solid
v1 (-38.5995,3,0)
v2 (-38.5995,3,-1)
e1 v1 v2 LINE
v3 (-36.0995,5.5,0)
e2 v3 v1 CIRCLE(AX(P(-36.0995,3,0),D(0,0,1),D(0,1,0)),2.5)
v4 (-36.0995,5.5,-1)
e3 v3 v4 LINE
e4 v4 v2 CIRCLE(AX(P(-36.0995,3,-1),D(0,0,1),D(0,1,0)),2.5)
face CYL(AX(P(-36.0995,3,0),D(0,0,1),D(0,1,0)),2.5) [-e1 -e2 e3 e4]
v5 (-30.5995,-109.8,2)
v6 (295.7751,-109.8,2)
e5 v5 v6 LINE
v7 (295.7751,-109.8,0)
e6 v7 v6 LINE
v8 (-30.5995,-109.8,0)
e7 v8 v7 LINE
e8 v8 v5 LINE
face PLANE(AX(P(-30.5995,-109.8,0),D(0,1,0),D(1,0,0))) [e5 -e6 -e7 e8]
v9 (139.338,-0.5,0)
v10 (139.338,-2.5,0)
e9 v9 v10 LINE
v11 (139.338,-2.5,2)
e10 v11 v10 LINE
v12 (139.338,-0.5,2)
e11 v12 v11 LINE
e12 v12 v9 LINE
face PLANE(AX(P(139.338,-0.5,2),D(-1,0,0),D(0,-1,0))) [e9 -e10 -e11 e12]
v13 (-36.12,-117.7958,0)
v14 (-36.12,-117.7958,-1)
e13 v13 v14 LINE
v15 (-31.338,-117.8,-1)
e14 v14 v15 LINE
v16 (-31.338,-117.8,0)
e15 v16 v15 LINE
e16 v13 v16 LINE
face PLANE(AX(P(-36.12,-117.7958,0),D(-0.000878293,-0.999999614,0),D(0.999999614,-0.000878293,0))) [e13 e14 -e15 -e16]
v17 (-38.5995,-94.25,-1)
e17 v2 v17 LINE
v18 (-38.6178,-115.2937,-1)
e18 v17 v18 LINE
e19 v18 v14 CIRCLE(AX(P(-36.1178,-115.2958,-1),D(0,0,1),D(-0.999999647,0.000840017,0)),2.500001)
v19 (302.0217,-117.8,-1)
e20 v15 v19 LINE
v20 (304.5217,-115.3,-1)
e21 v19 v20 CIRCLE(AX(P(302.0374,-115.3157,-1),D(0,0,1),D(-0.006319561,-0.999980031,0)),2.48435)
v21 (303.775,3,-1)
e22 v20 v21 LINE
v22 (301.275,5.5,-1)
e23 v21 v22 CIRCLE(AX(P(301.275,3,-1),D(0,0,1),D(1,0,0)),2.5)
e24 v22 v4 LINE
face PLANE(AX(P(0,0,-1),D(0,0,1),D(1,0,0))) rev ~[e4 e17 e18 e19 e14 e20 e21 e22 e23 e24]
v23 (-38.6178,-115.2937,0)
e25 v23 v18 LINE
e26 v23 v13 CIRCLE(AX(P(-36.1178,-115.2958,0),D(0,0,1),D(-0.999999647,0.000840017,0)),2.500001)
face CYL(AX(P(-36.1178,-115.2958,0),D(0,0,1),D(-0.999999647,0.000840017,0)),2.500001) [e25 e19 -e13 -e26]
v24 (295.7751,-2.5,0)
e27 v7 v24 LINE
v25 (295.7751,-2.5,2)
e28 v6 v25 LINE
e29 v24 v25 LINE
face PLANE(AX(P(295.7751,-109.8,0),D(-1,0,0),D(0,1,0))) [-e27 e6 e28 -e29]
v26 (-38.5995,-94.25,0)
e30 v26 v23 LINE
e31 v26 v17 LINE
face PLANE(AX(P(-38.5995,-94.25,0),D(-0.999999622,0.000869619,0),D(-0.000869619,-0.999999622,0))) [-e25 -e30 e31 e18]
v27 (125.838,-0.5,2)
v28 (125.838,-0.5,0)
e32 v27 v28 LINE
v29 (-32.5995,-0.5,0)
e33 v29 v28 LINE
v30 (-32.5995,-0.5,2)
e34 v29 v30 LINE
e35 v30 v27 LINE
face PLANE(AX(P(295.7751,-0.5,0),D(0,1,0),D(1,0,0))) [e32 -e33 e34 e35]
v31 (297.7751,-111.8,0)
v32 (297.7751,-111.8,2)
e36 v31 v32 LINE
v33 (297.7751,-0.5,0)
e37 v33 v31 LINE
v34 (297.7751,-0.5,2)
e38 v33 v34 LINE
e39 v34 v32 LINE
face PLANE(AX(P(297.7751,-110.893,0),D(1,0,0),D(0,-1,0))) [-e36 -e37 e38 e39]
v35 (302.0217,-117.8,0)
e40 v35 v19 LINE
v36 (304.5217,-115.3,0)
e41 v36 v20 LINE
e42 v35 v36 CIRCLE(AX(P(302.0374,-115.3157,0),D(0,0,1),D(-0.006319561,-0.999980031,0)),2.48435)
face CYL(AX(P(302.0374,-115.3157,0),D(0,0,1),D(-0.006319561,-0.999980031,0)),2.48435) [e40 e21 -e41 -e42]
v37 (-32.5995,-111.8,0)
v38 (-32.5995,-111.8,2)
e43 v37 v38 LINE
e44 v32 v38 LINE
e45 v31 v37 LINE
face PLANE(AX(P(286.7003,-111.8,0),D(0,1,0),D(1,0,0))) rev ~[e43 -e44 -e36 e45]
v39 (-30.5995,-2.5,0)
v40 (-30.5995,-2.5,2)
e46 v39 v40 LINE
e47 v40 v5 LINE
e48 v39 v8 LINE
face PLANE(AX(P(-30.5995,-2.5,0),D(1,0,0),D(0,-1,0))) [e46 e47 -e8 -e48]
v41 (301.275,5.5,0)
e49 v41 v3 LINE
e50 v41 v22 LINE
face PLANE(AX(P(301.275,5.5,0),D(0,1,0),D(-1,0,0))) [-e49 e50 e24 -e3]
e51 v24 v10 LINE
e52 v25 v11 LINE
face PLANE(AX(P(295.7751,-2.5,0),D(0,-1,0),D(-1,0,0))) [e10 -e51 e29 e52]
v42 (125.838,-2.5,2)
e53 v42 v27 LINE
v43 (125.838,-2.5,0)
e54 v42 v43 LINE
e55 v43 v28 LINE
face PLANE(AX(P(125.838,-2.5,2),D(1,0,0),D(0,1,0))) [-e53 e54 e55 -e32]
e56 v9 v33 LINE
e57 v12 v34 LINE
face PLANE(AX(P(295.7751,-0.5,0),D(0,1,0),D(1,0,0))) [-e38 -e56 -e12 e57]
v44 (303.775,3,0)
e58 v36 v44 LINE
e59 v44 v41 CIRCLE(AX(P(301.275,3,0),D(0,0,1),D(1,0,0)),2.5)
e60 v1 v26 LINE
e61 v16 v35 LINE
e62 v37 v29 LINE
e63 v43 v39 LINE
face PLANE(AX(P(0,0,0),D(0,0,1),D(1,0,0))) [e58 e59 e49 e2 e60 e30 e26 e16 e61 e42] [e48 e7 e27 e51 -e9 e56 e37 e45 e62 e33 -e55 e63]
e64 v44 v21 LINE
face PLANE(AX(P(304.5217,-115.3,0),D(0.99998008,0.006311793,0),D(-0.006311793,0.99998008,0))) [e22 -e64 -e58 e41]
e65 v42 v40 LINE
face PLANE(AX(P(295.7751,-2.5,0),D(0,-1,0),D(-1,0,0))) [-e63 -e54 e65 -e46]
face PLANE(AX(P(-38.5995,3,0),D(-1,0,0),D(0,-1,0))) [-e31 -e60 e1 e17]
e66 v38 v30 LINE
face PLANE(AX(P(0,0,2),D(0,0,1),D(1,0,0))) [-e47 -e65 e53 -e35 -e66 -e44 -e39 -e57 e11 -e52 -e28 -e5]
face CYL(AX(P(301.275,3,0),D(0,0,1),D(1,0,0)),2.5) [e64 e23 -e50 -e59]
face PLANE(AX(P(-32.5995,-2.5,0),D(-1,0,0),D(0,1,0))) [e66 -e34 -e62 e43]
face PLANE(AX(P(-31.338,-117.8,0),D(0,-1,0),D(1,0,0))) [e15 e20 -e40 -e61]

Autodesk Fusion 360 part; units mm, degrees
sketch "Reference" plane through (0, 0, 0) normal (0, 0, 1) x (1, 0, 0)
  line L0 (298.2751, -95.25) -> (298.2751, -113.3)
  line L1 (298.275, 1) -> (298.275, -57.15)
  line L2 (298.275, -57.15) -> (298.275, -57.15)
  line L3 (304.5217, -115.3) -> (303.775, 3)
  line L4 (179.47, 0) -> (290.235, 0)
  line L5 (290.2351, -112.3) -> (230.642, -112.3)
  line L6 (290.235, 1) -> (298.275, 1)
  line L7 (290.235, 0) -> (298.275, 0)
  line L8 (290.2351, -112.3) -> (298.2751, -112.3)
  arc A0 (302.0217, -117.8) -> (304.5217, -115.3) centre (302.0374, -115.3157) ccw
  line L9 (298.2751, -57.15) -> (298.2751, -74.2)
  line L10 (171.43, 0) -> (171.43, 1)
  line L11 (230.642, -112.3) -> (230.642, -113.3)
  line L12 (222.602, -113.3) -> (222.602, -112.3)
  arc A1 (303.775, 3) -> (301.275, 5.5) centre (301.275, 3) ccw
  line L13 (-28.337, -112.3) -> (-29.3375, -112.3)
  line L14 (-28.3375, 1.5) -> (-28.3375, 3)
  line L15 (-28.337, 1.5) -> (-6.3413, 1.5)
  line L16 (230.642, -112.3) -> (230.642, -113.3)
  line L17 (230.642, -113.3) -> (222.602, -113.3)
  line L18 (-36.12, -117.7958) -> (-31.338, -117.8)
  line L19 (222.602, -113.3) -> (222.602, -112.3)
  line L20 (-28.337, -113.3) -> (-28.337, -112.3)
  line L21 (-29.3375, -113.3) -> (-29.338, -113.3)
  arc A2 (-38.6178, -115.2937) -> (-36.12, -117.7958) centre (-36.1178, -115.2958) ccw
  line L22 (57.336, -112.3) -> (-20.297, -112.3)
  line L23 (8.02, 1) -> (8.02, 0)
  line L24 (-29.3375, -112.3) -> (-29.3375, -113.3)
  line L25 (-33.0995, -112.3) -> (-33.0995, 1.5)
  line L26 (-29.338, -112.3) -> (-33.0995, -112.3)
  line L27 (57.336, -113.3) -> (57.336, -112.3)
  line L28 (-20.297, -113.3) -> (-28.337, -113.3)
  line L29 (-29.338, -113.3) -> (-29.338, -112.3)
  line L30 (-20.297, -112.3) -> (-20.297, -113.3)
  line L31 (301.275, 5.5) -> (-36.0995, 5.5)
  line L32 (-38.5995, -94.25) -> (-38.6178, -115.2937)
  line L33 (298.2751, -76.2) -> (298.2751, -93.25)
  line L34 (298.275, -95.25) -> (298.275, -95.25)
  line L35 (298.275, -76.2) -> (298.275, -76.2)
  line L36 (-6.3413, 1.5) -> (-6.3413, 0)
  line L37 (-38.5995, 3) -> (-38.5995, -94.25)
  arc A3 (303.775, 3) -> (301.275, 5.5) centre (301.275, 3) ccw
  line L38 (298.2751, -74.2) -> (298.275, -74.2)
  line L39 (-28.337, 3) -> (-28.337, 1.5)
  line L40 (-33.0995, 1.5) -> (-28.3375, 1.5)
  line L41 (-0.02, 0) -> (-0.02, 1)
  arc A4 (-36.0995, 5.5) -> (-38.5995, 3) centre (-36.0995, 3) ccw
  line L42 (-31.338, -117.8) -> (302.0217, -117.8)
  line L43 (-6.3413, 0) -> (-0.02, 0)
  line L44 (298.275, -57.15) -> (298.275, -57.15)
  line L45 (-0.02, 1) -> (8.02, 1)
  line L46 (8.02, 0) -> (171.43, 0)
  line L47 (-28.3375, 3) -> (-28.337, 3)
  line L48 (290.235, 0) -> (290.235, 1)
  line L49 (290.235, 1) -> (298.275, 1)
  line L50 (298.2751, -57.15) -> (298.2751, -74.2)
  line L51 (298.275, 1) -> (298.275, -57.15)
  line L52 (222.602, -112.3) -> (65.376, -112.3)
  line L53 (-33.0995, -112.3) -> (-33.0995, 1.5)
  line L54 (301.275, 5.5) -> (-36.0995, 5.5)
  line L55 (-31.338, -117.8) -> (302.0217, -117.8)
  line L56 (57.336, -112.3) -> (-20.297, -112.3)
  line L57 (8.02, 0) -> (171.43, 0)
  line L58 (290.2351, -112.3) -> (230.642, -112.3)
  line L59 (298.2751, -95.25) -> (298.2751, -113.3)
  line L60 (298.275, -76.2) -> (298.275, -76.2)
  line L61 (298.275, -74.2) -> (298.275, -76.2)
  line L62 (298.2751, -76.2) -> (298.2751, -93.25)
  line L63 (298.2751, -93.25) -> (298.275, -93.25)
  line L64 (298.275, -93.25) -> (298.275, -95.25)
  line L65 (290.2351, -113.3) -> (290.2351, -112.3)
  arc A5 (302.0217, -117.8) -> (304.5217, -115.3) centre (302.0374, -115.3157) ccw
  line L66 (179.47, 0) -> (290.235, 0)
  line L67 (298.2751, -113.3) -> (290.2351, -113.3)
  line L68 (304.5217, -115.3) -> (303.775, 3)
  line L69 (298.275, -95.25) -> (298.275, -95.25)
  line L70 (57.336, -113.3) -> (57.336, -112.3)
  line L71 (65.376, -113.3) -> (57.336, -113.3)
  line L72 (-29.338, -113.3) -> (-29.338, -112.3)
  line L73 (-6.3413, 1.5) -> (-6.3413, 0)
  line L74 (-29.3375, -113.3) -> (-29.338, -113.3)
  line L75 (-29.3375, -112.3) -> (-29.3375, -113.3)
  line L76 (-28.3375, 1.5) -> (-28.3375, 3)
  line L77 (-28.337, 1.5) -> (-6.3413, 1.5)
  line L78 (-28.337, -112.3) -> (-29.3375, -112.3)
  line L79 (-28.337, -113.3) -> (-28.337, -112.3)
  line L80 (-28.3375, 3) -> (-28.337, 3)
  line L81 (-20.297, -113.3) -> (-28.337, -113.3)
  line L82 (65.376, -112.3) -> (65.376, -113.3)
  line L83 (-20.297, -112.3) -> (-20.297, -113.3)
  line L84 (-29.338, -112.3) -> (-33.0995, -112.3)
  line L85 (8.02, 1) -> (8.02, 0)
  line L86 (-28.337, 3) -> (-28.337, 1.5)
  arc A6 (-38.6178, -115.2937) -> (-36.12, -117.7958) centre (-36.1178, -115.2958) ccw
  line L87 (-38.5995, -94.25) -> (-38.6178, -115.2937)
  line L88 (-38.5995, 3) -> (-38.5995, -94.25)
  line L89 (-0.02, 0) -> (-0.02, 1)
  line L90 (-33.0995, 1.5) -> (-28.3375, 1.5)
  line L91 (-6.3413, 0) -> (-0.02, 0)
  arc A7 (-36.0995, 5.5) -> (-38.5995, 3) centre (-36.0995, 3) ccw
  line L92 (-0.02, 1) -> (8.02, 1)
  line L93 (-36.12, -117.7958) -> (-31.338, -117.8)
  line L94 (298.275, -93.25) -> (298.275, -95.25)
  line L95 (298.2751, -113.3) -> (290.2351, -113.3)
  line L96 (290.2351, -113.3) -> (290.2351, -112.3)
  line L97 (298.2751, -93.25) -> (298.275, -93.25)
  line L98 (298.275, -74.2) -> (298.275, -76.2)
  line L99 (298.2751, -74.2) -> (298.275, -74.2)
  line L100 (290.235, 0) -> (290.235, 1)
  line L101 (179.47, 1) -> (179.47, 0)
  line L102 (230.642, -113.3) -> (222.602, -113.3)
  line L103 (179.47, 1) -> (179.47, 0)
  line L104 (171.43, 1) -> (179.47, 1)
  line L105 (222.602, -112.3) -> (65.376, -112.3)
  line L106 (65.376, -112.3) -> (65.376, -113.3)
  line L107 (65.376, -113.3) -> (57.336, -113.3)
  line L108 (171.43, 0) -> (171.43, 1)
  line L109 (171.43, 1) -> (179.47, 1)
  dimension "d29" = 5.5
  dimension "d30" = 5.5
  dimension "d31" = 6.2339
  dimension "d32" = 5.5125
  dimension "d33" = 5.5
  dimension "d34" = 6.2276
  dimension "d35" = 5.5188
sketch "FlatPlateSketch" plane through (0, 0, 0) normal (0, 0, 1) x (1, 0, 0)
  line L0 (298.2751, -95.25) -> (298.2751, -113.3)
  line L1 (298.275, 1) -> (298.275, -57.15)
  line L2 (298.275, -57.15) -> (298.275, -57.15)
  line L3 (304.5217, -115.3) -> (303.775, 3)
  line L4 (179.47, 0) -> (290.235, 0)
  line L5 (290.2351, -112.3) -> (230.642, -112.3)
  line L6 (290.235, 1) -> (298.275, 1)
  line L7 (290.235, 0) -> (298.275, 0)
  line L8 (290.2351, -112.3) -> (298.2751, -112.3)
  arc A0 (302.0217, -117.8) -> (304.5217, -115.3) centre (302.0374, -115.3157) ccw
  line L9 (298.2751, -57.15) -> (298.2751, -74.2)
  line L10 (171.43, 0) -> (171.43, 1)
  line L11 (230.642, -112.3) -> (230.642, -113.3)
  line L12 (222.602, -113.3) -> (222.602, -112.3)
  arc A1 (303.775, 3) -> (301.275, 5.5) centre (301.275, 3) ccw
  line L13 (-28.337, -112.3) -> (-29.3375, -112.3)
  line L14 (-28.3375, 1.5) -> (-28.3375, 3)
  line L15 (-28.337, 1.5) -> (-6.3413, 1.5)
  line L16 (230.642, -112.3) -> (230.642, -113.3)
  line L17 (230.642, -113.3) -> (222.602, -113.3)
  line L18 (-36.12, -117.7958) -> (-31.338, -117.8)
  line L19 (222.602, -113.3) -> (222.602, -112.3)
  line L20 (-28.337, -113.3) -> (-28.337, -112.3)
  line L21 (-29.3375, -113.3) -> (-29.338, -113.3)
  arc A2 (-38.6178, -115.2937) -> (-36.12, -117.7958) centre (-36.1178, -115.2958) ccw
  line L22 (57.336, -112.3) -> (-20.297, -112.3)
  line L23 (8.02, 1) -> (8.02, 0)
  line L24 (-29.3375, -112.3) -> (-29.3375, -113.3)
  line L25 (-33.0995, -112.3) -> (-33.0995, 1.5)
  line L26 (-29.338, -112.3) -> (-33.0995, -112.3)
  line L27 (57.336, -113.3) -> (57.336, -112.3)
  line L28 (-20.297, -113.3) -> (-28.337, -113.3)
  line L29 (-29.338, -113.3) -> (-29.338, -112.3)
  line L30 (-20.297, -112.3) -> (-20.297, -113.3)
  line L31 (301.275, 5.5) -> (-36.0995, 5.5)
  line L32 (-38.5995, -94.25) -> (-38.6178, -115.2937)
  line L33 (298.2751, -76.2) -> (298.2751, -93.25)
  line L34 (298.275, -95.25) -> (298.275, -95.25)
  line L35 (298.275, -76.2) -> (298.275, -76.2)
  line L36 (-6.3413, 1.5) -> (-6.3413, 0)
  line L37 (-38.5995, 3) -> (-38.5995, -94.25)
  arc A3 (303.775, 3) -> (301.275, 5.5) centre (301.275, 3) ccw
  line L38 (298.2751, -74.2) -> (298.275, -74.2)
  line L39 (-28.337, 3) -> (-28.337, 1.5)
  line L40 (-33.0995, 1.5) -> (-28.3375, 1.5)
  line L41 (-0.02, 0) -> (-0.02, 1)
  arc A4 (-36.0995, 5.5) -> (-38.5995, 3) centre (-36.0995, 3) ccw
  line L42 (-31.338, -117.8) -> (302.0217, -117.8)
  line L43 (-6.3413, 0) -> (-0.02, 0)
  line L44 (298.275, -57.15) -> (298.275, -57.15)
  line L45 (-0.02, 1) -> (8.02, 1)
  line L46 (8.02, 0) -> (171.43, 0)
  line L47 (-28.3375, 3) -> (-28.337, 3)
  line L48 (290.235, 0) -> (290.235, 1)
  line L49 (290.235, 1) -> (298.275, 1)
  line L50 (298.2751, -57.15) -> (298.2751, -74.2)
  line L51 (298.275, 1) -> (298.275, -57.15)
  line L52 (222.602, -112.3) -> (65.376, -112.3)
  line L53 (-33.0995, -112.3) -> (-33.0995, 1.5)
  line L54 (301.275, 5.5) -> (-36.0995, 5.5)
  line L55 (-31.338, -117.8) -> (302.0217, -117.8)
  line L56 (57.336, -112.3) -> (-20.297, -112.3)
  line L57 (8.02, 0) -> (171.43, 0)
  line L58 (290.2351, -112.3) -> (230.642, -112.3)
  line L59 (298.2751, -95.25) -> (298.2751, -113.3)
  line L60 (298.275, -76.2) -> (298.275, -76.2)
  line L61 (298.275, -74.2) -> (298.275, -76.2)
  line L62 (298.2751, -76.2) -> (298.2751, -93.25)
  line L63 (298.2751, -93.25) -> (298.275, -93.25)
  line L64 (298.275, -93.25) -> (298.275, -95.25)
  line L65 (290.2351, -113.3) -> (290.2351, -112.3)
  arc A5 (302.0217, -117.8) -> (304.5217, -115.3) centre (302.0374, -115.3157) ccw
  line L66 (179.47, 0) -> (290.235, 0)
  line L67 (298.2751, -113.3) -> (290.2351, -113.3)
  line L68 (304.5217, -115.3) -> (303.775, 3)
  line L69 (298.275, -95.25) -> (298.275, -95.25)
  line L70 (57.336, -113.3) -> (57.336, -112.3)
  line L71 (65.376, -113.3) -> (57.336, -113.3)
  line L72 (-29.338, -113.3) -> (-29.338, -112.3)
  line L73 (-6.3413, 1.5) -> (-6.3413, 0)
  line L74 (-29.3375, -113.3) -> (-29.338, -113.3)
  line L75 (-29.3375, -112.3) -> (-29.3375, -113.3)
  line L76 (-28.3375, 1.5) -> (-28.3375, 3)
  line L77 (-28.337, 1.5) -> (-6.3413, 1.5)
  line L78 (-28.337, -112.3) -> (-29.3375, -112.3)
  line L79 (-28.337, -113.3) -> (-28.337, -112.3)
  line L80 (-28.3375, 3) -> (-28.337, 3)
  line L81 (-20.297, -113.3) -> (-28.337, -113.3)
  line L82 (65.376, -112.3) -> (65.376, -113.3)
  line L83 (-20.297, -112.3) -> (-20.297, -113.3)
  line L84 (-29.338, -112.3) -> (-33.0995, -112.3)
  line L85 (8.02, 1) -> (8.02, 0)
  line L86 (-28.337, 3) -> (-28.337, 1.5)
  arc A6 (-38.6178, -115.2937) -> (-36.12, -117.7958) centre (-36.1178, -115.2958) ccw
  line L87 (-38.5995, -94.25) -> (-38.6178, -115.2937)
  line L88 (-38.5995, 3) -> (-38.5995, -94.25)
  line L89 (-0.02, 0) -> (-0.02, 1)
  line L90 (-33.0995, 1.5) -> (-28.3375, 1.5)
  line L91 (-6.3413, 0) -> (-0.02, 0)
  arc A7 (-36.0995, 5.5) -> (-38.5995, 3) centre (-36.0995, 3) ccw
  line L92 (-0.02, 1) -> (8.02, 1)
  line L93 (-36.12, -117.7958) -> (-31.338, -117.8)
  line L94 (298.275, -93.25) -> (298.275, -95.25)
  line L95 (298.2751, -113.3) -> (290.2351, -113.3)
  line L96 (290.2351, -113.3) -> (290.2351, -112.3)
  line L97 (298.2751, -93.25) -> (298.275, -93.25)
  line L98 (298.275, -74.2) -> (298.275, -76.2)
  line L99 (298.2751, -74.2) -> (298.275, -74.2)
  line L100 (290.235, 0) -> (290.235, 1)
  line L101 (179.47, 1) -> (179.47, 0)
  line L102 (230.642, -113.3) -> (222.602, -113.3)
  line L103 (179.47, 1) -> (179.47, 0)
  line L104 (171.43, 1) -> (179.47, 1)
  line L105 (222.602, -112.3) -> (65.376, -112.3)
  line L106 (65.376, -112.3) -> (65.376, -113.3)
  line L107 (65.376, -113.3) -> (57.336, -113.3)
  line L108 (171.43, 0) -> (171.43, 1)
  line L109 (171.43, 1) -> (179.47, 1)
  dimension "d36" = 5.5
  dimension "d37" = 5.5
  dimension "d38" = 6.2339
  dimension "d39" = 5.5125
  dimension "d40" = 5.5
  dimension "d41" = 6.2276
  dimension "d42" = 5.5188
sketch "LipSketch" plane through (0, 0, 0) normal (0, 0, 1) x (1, 0, 0)
  line L0 (298.2751, -95.25) -> (298.2751, -113.3)
  line L1 (298.275, 1) -> (298.275, -57.15)
  line L2 (298.275, -57.15) -> (298.275, -57.15)
  line L3 (304.5217, -115.3) -> (303.775, 3)
  line L4 (179.47, 0) -> (290.235, 0)
  line L5 (290.2351, -112.3) -> (230.642, -112.3)
  line L6 (290.235, 1) -> (298.275, 1)
  line L7 (290.235, 0) -> (298.275, 0)
  line L8 (290.2351, -112.3) -> (298.2751, -112.3)
  arc A0 (302.0217, -117.8) -> (304.5217, -115.3) centre (302.0374, -115.3157) ccw
  line L9 (298.2751, -57.15) -> (298.2751, -74.2)
  line L10 (171.43, 0) -> (171.43, 1)
  line L11 (230.642, -112.3) -> (230.642, -113.3)
  line L12 (222.602, -113.3) -> (222.602, -112.3)
  arc A1 (303.775, 3) -> (301.275, 5.5) centre (301.275, 3) ccw
  line L13 (-28.337, -112.3) -> (-29.3375, -112.3)
  line L14 (-28.3375, 1.5) -> (-28.3375, 3)
  line L15 (-28.337, 1.5) -> (-6.3413, 1.5)
  line L16 (230.642, -112.3) -> (230.642, -113.3)
  line L17 (230.642, -113.3) -> (222.602, -113.3)
  line L18 (-36.12, -117.7958) -> (-31.338, -117.8)
  line L19 (222.602, -113.3) -> (222.602, -112.3)
  line L20 (-28.337, -113.3) -> (-28.337, -112.3)
  line L21 (-29.3375, -113.3) -> (-29.338, -113.3)
  arc A2 (-38.6178, -115.2937) -> (-36.12, -117.7958) centre (-36.1178, -115.2958) ccw
  line L22 (57.336, -112.3) -> (-20.297, -112.3)
  line L23 (8.02, 1) -> (8.02, 0)
  line L24 (-29.3375, -112.3) -> (-29.3375, -113.3)
  line L25 (-33.0995, -112.3) -> (-33.0995, 1.5)
  line L26 (-29.338, -112.3) -> (-33.0995, -112.3)
  line L27 (57.336, -113.3) -> (57.336, -112.3)
  line L28 (-20.297, -113.3) -> (-28.337, -113.3)
  line L29 (-29.338, -113.3) -> (-29.338, -112.3)
  line L30 (-20.297, -112.3) -> (-20.297, -113.3)
  line L31 (301.275, 5.5) -> (-36.0995, 5.5)
  line L32 (-38.5995, -94.25) -> (-38.6178, -115.2937)
  line L33 (298.2751, -76.2) -> (298.2751, -93.25)
  line L34 (298.275, -95.25) -> (298.275, -95.25)
  line L35 (298.275, -76.2) -> (298.275, -76.2)
  line L36 (-6.3413, 1.5) -> (-6.3413, 0)
  line L37 (-38.5995, 3) -> (-38.5995, -94.25)
  arc A3 (303.775, 3) -> (301.275, 5.5) centre (301.275, 3) ccw
  line L38 (298.2751, -74.2) -> (298.275, -74.2)
  line L39 (-28.337, 3) -> (-28.337, 1.5)
  line L40 (-33.0995, 1.5) -> (-28.3375, 1.5)
  line L41 (-0.02, 0) -> (-0.02, 1)
  arc A4 (-36.0995, 5.5) -> (-38.5995, 3) centre (-36.0995, 3) ccw
  line L42 (-31.338, -117.8) -> (302.0217, -117.8)
  line L43 (-6.3413, 0) -> (-0.02, 0)
  line L44 (298.275, -57.15) -> (298.275, -57.15)
  line L45 (-0.02, 1) -> (8.02, 1)
  line L46 (8.02, 0) -> (171.43, 0)
  line L47 (-28.3375, 3) -> (-28.337, 3)
  line L48 (290.235, 0) -> (290.235, 1)
  line L49 (290.235, 1) -> (298.275, 1)
  line L50 (298.2751, -57.15) -> (298.2751, -74.2)
  line L51 (298.275, 1) -> (298.275, -57.15)
  line L52 (222.602, -112.3) -> (65.376, -112.3)
  line L53 (-33.0995, -112.3) -> (-33.0995, 1.5)
  line L54 (301.275, 5.5) -> (-36.0995, 5.5)
  line L55 (-31.338, -117.8) -> (302.0217, -117.8)
  line L56 (57.336, -112.3) -> (-20.297, -112.3)
  line L57 (8.02, 0) -> (171.43, 0)
  line L58 (290.2351, -112.3) -> (230.642, -112.3)
  line L59 (298.2751, -95.25) -> (298.2751, -113.3)
  line L60 (298.275, -76.2) -> (298.275, -76.2)
  line L61 (298.275, -74.2) -> (298.275, -76.2)
  line L62 (298.2751, -76.2) -> (298.2751, -93.25)
  line L63 (298.2751, -93.25) -> (298.275, -93.25)
  line L64 (298.275, -93.25) -> (298.275, -95.25)
  line L65 (290.2351, -113.3) -> (290.2351, -112.3)
  arc A5 (302.0217, -117.8) -> (304.5217, -115.3) centre (302.0374, -115.3157) ccw
  line L66 (179.47, 0) -> (290.235, 0)
  line L67 (298.2751, -113.3) -> (290.2351, -113.3)
  line L68 (304.5217, -115.3) -> (303.775, 3)
  line L69 (298.275, -95.25) -> (298.275, -95.25)
  line L70 (57.336, -113.3) -> (57.336, -112.3)
  line L71 (65.376, -113.3) -> (57.336, -113.3)
  line L72 (-29.338, -113.3) -> (-29.338, -112.3)
  line L73 (-6.3413, 1.5) -> (-6.3413, 0)
  line L74 (-29.3375, -113.3) -> (-29.338, -113.3)
  line L75 (-29.3375, -112.3) -> (-29.3375, -113.3)
  line L76 (-28.3375, 1.5) -> (-28.3375, 3)
  line L77 (-28.337, 1.5) -> (-6.3413, 1.5)
  line L78 (-28.337, -112.3) -> (-29.3375, -112.3)
  line L79 (-28.337, -113.3) -> (-28.337, -112.3)
  line L80 (-28.3375, 3) -> (-28.337, 3)
  line L81 (-20.297, -113.3) -> (-28.337, -113.3)
  line L82 (65.376, -112.3) -> (65.376, -113.3)
  line L83 (-20.297, -112.3) -> (-20.297, -113.3)
  line L84 (-29.338, -112.3) -> (-33.0995, -112.3)
  line L85 (8.02, 1) -> (8.02, 0)
  line L86 (-28.337, 3) -> (-28.337, 1.5)
  arc A6 (-38.6178, -115.2937) -> (-36.12, -117.7958) centre (-36.1178, -115.2958) ccw
  line L87 (-38.5995, -94.25) -> (-38.6178, -115.2937)
  line L88 (-38.5995, 3) -> (-38.5995, -94.25)
  line L89 (-0.02, 0) -> (-0.02, 1)
  line L90 (-33.0995, 1.5) -> (-28.3375, 1.5)
  line L91 (-6.3413, 0) -> (-0.02, 0)
  arc A7 (-36.0995, 5.5) -> (-38.5995, 3) centre (-36.0995, 3) ccw
  line L92 (-0.02, 1) -> (8.02, 1)
  line L93 (-36.12, -117.7958) -> (-31.338, -117.8)
  line L94 (298.275, -93.25) -> (298.275, -95.25)
  line L95 (298.2751, -113.3) -> (290.2351, -113.3)
  line L96 (290.2351, -113.3) -> (290.2351, -112.3)
  line L97 (298.2751, -93.25) -> (298.275, -93.25)
  line L98 (298.275, -74.2) -> (298.275, -76.2)
  line L99 (298.2751, -74.2) -> (298.275, -74.2)
  line L100 (290.235, 0) -> (290.235, 1)
  line L101 (179.47, 1) -> (179.47, 0)
  line L102 (230.642, -113.3) -> (222.602, -113.3)
  line L103 (179.47, 1) -> (179.47, 0)
  line L104 (171.43, 1) -> (179.47, 1)
  line L105 (222.602, -112.3) -> (65.376, -112.3)
  line L106 (65.376, -112.3) -> (65.376, -113.3)
  line L107 (65.376, -113.3) -> (57.336, -113.3)
  line L108 (171.43, 0) -> (171.43, 1)
  line L109 (171.43, 1) -> (179.47, 1)
  line L110 (290.235, 0) -> (290.235, -0.5) construction
  line L111 (298.275, -3.3243) -> (297.775, -3.3243) construction
  line L112 (286.7003, -112.3) -> (286.7003, -111.8) construction
  line L113 (298.2751, -110.893) -> (297.7751, -110.893) construction
  line L114 (286.7003, -111.8) -> (297.7751, -111.8)
  line L115 (297.7751, -110.893) -> (297.7751, -111.8)
  line L116 (297.7751, -110.893) -> (297.7751, -0.5)
  line L117 (290.235, -0.5) -> (297.7751, -0.5)
  line L118 (290.235, -0.5) -> (-27.25, -0.5)
  line L119 (-33.0995, -0.5) -> (-32.5995, -0.5) construction
  line L120 (-32.5995, -0.5) -> (-27.25, -0.5)
  line L121 (-33.0995, -111.8) -> (-32.5995, -111.8) construction
  line L122 (-32.5995, -111.8) -> (-32.5995, -0.5)
  line L123 (286.7003, -111.8) -> (-31.0685, -111.8)
  line L124 (-31.0685, -111.8) -> (-32.5995, -111.8)
  line L125 (-32.5995, -0.5) -> (-30.5995, -0.5)
  line L126 (-30.5995, -0.5) -> (-30.5995, -2.5) construction
  line L127 (-32.5995, -2.5) -> (-32.5995, -0.5)
  line L128 (-32.5995, -111.8) -> (-30.5995, -111.8)
  line L129 (-30.5995, -111.8) -> (-30.5995, -109.8) construction
  line L130 (-30.5995, -109.8) -> (-32.5995, -109.8) construction
  line L131 (-32.5995, -109.8) -> (-32.5995, -111.8)
  line L132 (297.7751, -111.8) -> (295.7751, -111.8)
  line L133 (295.7751, -111.8) -> (295.7751, -109.8) construction
  line L134 (295.7751, -109.8) -> (297.7751, -109.8) construction
  line L135 (297.7751, -109.8) -> (297.7751, -111.8)
  line L136 (297.7751, -0.5) -> (295.7751, -0.5)
  line L137 (295.7751, -0.5) -> (295.7751, -2.5) construction
  line L138 (295.7751, -2.5) -> (297.7751, -2.5) construction
  line L139 (297.7751, -2.5) -> (297.7751, -0.5)
  line L140 (295.7751, -2.5) -> (-30.5995, -2.5)
  line L141 (-30.5995, -2.5) -> (-30.5995, -109.8)
  line L142 (-30.5995, -109.8) -> (295.7751, -109.8)
  line L143 (295.7751, -109.8) -> (295.7751, -2.5)
  dimension "d45" = 5.5
  dimension "d46" = 5.5
  dimension "d47" = 6.2339
  dimension "d48" = 5.5125
  dimension "d49" = 5.5
  dimension "d50" = 6.2276
  dimension "d51" = 5.5188
  dimension "d68" = 0.5
  dimension "d69" = 0.5
  dimension "d70" = 0.5
  dimension "d71" = 0.5
  dimension "d72" = 0.5
  dimension "d73" = 0.5
  dimension "d74" = 2
  dimension "d75" = 2
  dimension "d76" = 2
  dimension "d77" = 2
  dimension "d78" = 2
  dimension "d79" = 2
  dimension "d80" = 2
  dimension "d81" = 2
extrude "Extrude4" add sketch "FlatPlateSketch" against normal blind 1 contours L0 L1 L4 L5 L7 L8 L9 L10 L11 L12 L13 L15 L16 L17 L19 L20 L22 L23 L25 L26 L27 L28 L30 L33 L36 L40 L41 L43 L45 L46 L50 L51 L52 L53 L56 L57 L58 L59 L61 L62 L64 L66 L70 L71 L73 L77 L78 L79 L81 L82 L83 L84 L85 L89 L90 L91 L92 L94 L98 L101 L102 L103 L104 L105 L106 L107 L108 L109 | L0 L8 L59 L65 L67 L95 L96 | L1 L6 L7 L48 L49 L51 L100 | L3 A0 A1 L18 A2 L31 L32 L37 A3 A4 L42 L54 L55 A5 L68 A6 L87 L88 A7 L93
sketch "Sketch8" plane through (0, 0, 0) normal (0, 0, 1) x (1, 0, 0)
  line L0 (298.2751, -95.25) -> (298.2751, -113.3)
  line L1 (298.275, 1) -> (298.275, -57.15)
  line L2 (298.275, -57.15) -> (298.275, -57.15)
  line L3 (304.5217, -115.3) -> (303.775, 3)
  line L4 (179.47, 0) -> (290.235, 0)
  line L5 (290.2351, -112.3) -> (230.642, -112.3)
  line L6 (290.235, 1) -> (298.275, 1)
  line L7 (290.235, 0) -> (298.275, 0)
  line L8 (290.2351, -112.3) -> (298.2751, -112.3)
  arc A0 (302.0217, -117.8) -> (304.5217, -115.3) centre (302.0374, -115.3157) ccw
  line L9 (298.2751, -57.15) -> (298.2751, -74.2)
  line L10 (171.43, 0) -> (171.43, 1)
  line L11 (230.642, -112.3) -> (230.642, -113.3)
  line L12 (222.602, -113.3) -> (222.602, -112.3)
  arc A1 (303.775, 3) -> (301.275, 5.5) centre (301.275, 3) ccw
  line L13 (-28.337, -112.3) -> (-29.3375, -112.3)
  line L14 (-28.3375, 1.5) -> (-28.3375, 3)
  line L15 (-28.337, 1.5) -> (-6.3413, 1.5)
  line L16 (230.642, -112.3) -> (230.642, -113.3)
  line L17 (230.642, -113.3) -> (222.602, -113.3)
  line L18 (-36.12, -117.7958) -> (-31.338, -117.8)
  line L19 (222.602, -113.3) -> (222.602, -112.3)
  line L20 (-28.337, -113.3) -> (-28.337, -112.3)
  line L21 (-29.3375, -113.3) -> (-29.338, -113.3)
  arc A2 (-38.6178, -115.2937) -> (-36.12, -117.7958) centre (-36.1178, -115.2958) ccw
  line L22 (57.336, -112.3) -> (-20.297, -112.3)
  line L23 (8.02, 1) -> (8.02, 0)
  line L24 (-29.3375, -112.3) -> (-29.3375, -113.3)
  line L25 (-33.0995, -112.3) -> (-33.0995, 1.5)
  line L26 (-29.338, -112.3) -> (-33.0995, -112.3)
  line L27 (57.336, -113.3) -> (57.336, -112.3)
  line L28 (-20.297, -113.3) -> (-28.337, -113.3)
  line L29 (-29.338, -113.3) -> (-29.338, -112.3)
  line L30 (-20.297, -112.3) -> (-20.297, -113.3)
  line L31 (301.275, 5.5) -> (-36.0995, 5.5)
  line L32 (-38.5995, -94.25) -> (-38.6178, -115.2937)
  line L33 (298.2751, -76.2) -> (298.2751, -93.25)
  line L34 (298.275, -95.25) -> (298.275, -95.25)
  line L35 (298.275, -76.2) -> (298.275, -76.2)
  line L36 (-6.3413, 1.5) -> (-6.3413, 0)
  line L37 (-38.5995, 3) -> (-38.5995, -94.25)
  arc A3 (303.775, 3) -> (301.275, 5.5) centre (301.275, 3) ccw
  line L38 (298.2751, -74.2) -> (298.275, -74.2)
  line L39 (-28.337, 3) -> (-28.337, 1.5)
  line L40 (-33.0995, 1.5) -> (-28.3375, 1.5)
  line L41 (-0.02, 0) -> (-0.02, 1)
  arc A4 (-36.0995, 5.5) -> (-38.5995, 3) centre (-36.0995, 3) ccw
  line L42 (-31.338, -117.8) -> (302.0217, -117.8)
  line L43 (-6.3413, 0) -> (-0.02, 0)
  line L44 (298.275, -57.15) -> (298.275, -57.15)
  line L45 (-0.02, 1) -> (8.02, 1)
  line L46 (8.02, 0) -> (171.43, 0)
  line L47 (-28.3375, 3) -> (-28.337, 3)
  line L48 (290.235, 0) -> (290.235, 1)
  line L49 (290.235, 1) -> (298.275, 1)
  line L50 (298.2751, -57.15) -> (298.2751, -74.2)
  line L51 (298.275, 1) -> (298.275, -57.15)
  line L52 (222.602, -112.3) -> (65.376, -112.3)
  line L53 (-33.0995, -112.3) -> (-33.0995, 1.5)
  line L54 (301.275, 5.5) -> (-36.0995, 5.5)
  line L55 (-31.338, -117.8) -> (302.0217, -117.8)
  line L56 (57.336, -112.3) -> (-20.297, -112.3)
  line L57 (8.02, 0) -> (171.43, 0)
  line L58 (290.2351, -112.3) -> (230.642, -112.3)
  line L59 (298.2751, -95.25) -> (298.2751, -113.3)
  line L60 (298.275, -76.2) -> (298.275, -76.2)
  line L61 (298.275, -74.2) -> (298.275, -76.2)
  line L62 (298.2751, -76.2) -> (298.2751, -93.25)
  line L63 (298.2751, -93.25) -> (298.275, -93.25)
  line L64 (298.275, -93.25) -> (298.275, -95.25)
  line L65 (290.2351, -113.3) -> (290.2351, -112.3)
  arc A5 (302.0217, -117.8) -> (304.5217, -115.3) centre (302.0374, -115.3157) ccw
  line L66 (179.47, 0) -> (290.235, 0)
  line L67 (298.2751, -113.3) -> (290.2351, -113.3)
  line L68 (304.5217, -115.3) -> (303.775, 3)
  line L69 (298.275, -95.25) -> (298.275, -95.25)
  line L70 (57.336, -113.3) -> (57.336, -112.3)
  line L71 (65.376, -113.3) -> (57.336, -113.3)
  line L72 (-29.338, -113.3) -> (-29.338, -112.3)
  line L73 (-6.3413, 1.5) -> (-6.3413, 0)
  line L74 (-29.3375, -113.3) -> (-29.338, -113.3)
  line L75 (-29.3375, -112.3) -> (-29.3375, -113.3)
  line L76 (-28.3375, 1.5) -> (-28.3375, 3)
  line L77 (-28.337, 1.5) -> (-6.3413, 1.5)
  line L78 (-28.337, -112.3) -> (-29.3375, -112.3)
  line L79 (-28.337, -113.3) -> (-28.337, -112.3)
  line L80 (-28.3375, 3) -> (-28.337, 3)
  line L81 (-20.297, -113.3) -> (-28.337, -113.3)
  line L82 (65.376, -112.3) -> (65.376, -113.3)
  line L83 (-20.297, -112.3) -> (-20.297, -113.3)
  line L84 (-29.338, -112.3) -> (-33.0995, -112.3)
  line L85 (8.02, 1) -> (8.02, 0)
  line L86 (-28.337, 3) -> (-28.337, 1.5)
  arc A6 (-38.6178, -115.2937) -> (-36.12, -117.7958) centre (-36.1178, -115.2958) ccw
  line L87 (-38.5995, -94.25) -> (-38.6178, -115.2937)
  line L88 (-38.5995, 3) -> (-38.5995, -94.25)
  line L89 (-0.02, 0) -> (-0.02, 1)
  line L90 (-33.0995, 1.5) -> (-28.3375, 1.5)
  line L91 (-6.3413, 0) -> (-0.02, 0)
  arc A7 (-36.0995, 5.5) -> (-38.5995, 3) centre (-36.0995, 3) ccw
  line L92 (-0.02, 1) -> (8.02, 1)
  line L93 (-36.12, -117.7958) -> (-31.338, -117.8)
  line L94 (298.275, -93.25) -> (298.275, -95.25)
  line L95 (298.2751, -113.3) -> (290.2351, -113.3)
  line L96 (290.2351, -113.3) -> (290.2351, -112.3)
  line L97 (298.2751, -93.25) -> (298.275, -93.25)
  line L98 (298.275, -74.2) -> (298.275, -76.2)
  line L99 (298.2751, -74.2) -> (298.275, -74.2)
  line L100 (290.235, 0) -> (290.235, 1)
  line L101 (179.47, 1) -> (179.47, 0)
  line L102 (230.642, -113.3) -> (222.602, -113.3)
  line L103 (179.47, 1) -> (179.47, 0)
  line L104 (171.43, 1) -> (179.47, 1)
  line L105 (222.602, -112.3) -> (65.376, -112.3)
  line L106 (65.376, -112.3) -> (65.376, -113.3)
  line L107 (65.376, -113.3) -> (57.336, -113.3)
  line L108 (171.43, 0) -> (171.43, 1)
  line L109 (171.43, 1) -> (179.47, 1)
  dimension "d54" = 5.5
  dimension "d55" = 5.5
  dimension "d56" = 6.2339
  dimension "d57" = 5.5125
  dimension "d58" = 5.5
  dimension "d59" = 6.2276
  dimension "d60" = 5.5188
extrude "LipExtrude" add sketch "LipSketch" along normal blind 2 contours L114 L115 L116 L117 L118 L120 L122 L123 L124 L125 L127 L128 L131 L132 L135 L136 L139
sketch "USBHoleSketch" plane through (0, 0, 2) normal (0, 0, 1) x (-1, 0, 0)
  line L0 (-295.7751, 2.5) -> (-295.7751, 109.8)
  line L1 (-295.7751, 109.8) -> (30.5995, 109.8)
  line L2 (30.5995, 109.8) -> (30.5995, 2.5)
  line L3 (30.5995, 2.5) -> (-295.7751, 2.5)
  line L4 (-297.7751, 111.8) -> (-297.7751, 0.5)
  line L5 (-297.7751, 0.5) -> (32.5995, 0.5)
  line L6 (32.5995, 0.5) -> (32.5995, 111.8)
  line L7 (32.5995, 111.8) -> (-297.7751, 111.8)
  line L8 (32.5995, 0.5) -> (-132.588, 0.5) construction
  line L9 (-132.588, 0.5) -> (-139.338, 0.5)
  line L10 (-139.338, 0.5) -> (-139.338, 2.5)
  line L11 (-139.338, 2.5) -> (-125.838, 2.5)
  line L12 (-125.838, 2.5) -> (-125.838, 0.5)
  line L13 (-125.838, 0.5) -> (-132.588, 0.5)
  dimension "d84" = 165.1875
  dimension "d85" = 6.75
  dimension "d86" = 13.5
extrude "Extrude6" cut sketch "USBHoleSketch" against normal blind 2 contours L3 L5 L9 L10 L11 L12 L13
sketch "Sketch9" plane through (0, 0, 0) normal (0, 0, 1) x (1, 0, 0)
  line L0 (298.2751, -95.25) -> (298.2751, -113.3)
  line L1 (298.275, 1) -> (298.275, -57.15)
  line L2 (298.275, -57.15) -> (298.275, -57.15)
  line L3 (304.5217, -115.3) -> (303.775, 3)
  line L4 (179.47, 0) -> (290.235, 0)
  line L5 (290.2351, -112.3) -> (230.642, -112.3)
  line L6 (290.235, 1) -> (298.275, 1)
  line L7 (290.235, 0) -> (298.275, 0)
  line L8 (290.2351, -112.3) -> (298.2751, -112.3)
  arc A0 (302.0217, -117.8) -> (304.5217, -115.3) centre (302.0374, -115.3157) ccw
  line L9 (298.2751, -57.15) -> (298.2751, -74.2)
  line L10 (171.43, 0) -> (171.43, 1)
  line L11 (230.642, -112.3) -> (230.642, -113.3)
  line L12 (222.602, -113.3) -> (222.602, -112.3)
  arc A1 (303.775, 3) -> (301.275, 5.5) centre (301.275, 3) ccw
  line L13 (-28.337, -112.3) -> (-29.3375, -112.3)
  line L14 (-28.3375, 1.5) -> (-28.3375, 3)
  line L15 (-28.337, 1.5) -> (-6.3413, 1.5)
  line L16 (230.642, -112.3) -> (230.642, -113.3)
  line L17 (230.642, -113.3) -> (222.602, -113.3)
  line L18 (-36.12, -117.7958) -> (-31.338, -117.8)
  line L19 (222.602, -113.3) -> (222.602, -112.3)
  line L20 (-28.337, -113.3) -> (-28.337, -112.3)
  line L21 (-29.3375, -113.3) -> (-29.338, -113.3)
  arc A2 (-38.6178, -115.2937) -> (-36.12, -117.7958) centre (-36.1178, -115.2958) ccw
  line L22 (57.336, -112.3) -> (-20.297, -112.3)
  line L23 (8.02, 1) -> (8.02, 0)
  line L24 (-29.3375, -112.3) -> (-29.3375, -113.3)
  line L25 (-33.0995, -112.3) -> (-33.0995, 1.5)
  line L26 (-29.338, -112.3) -> (-33.0995, -112.3)
  line L27 (57.336, -113.3) -> (57.336, -112.3)
  line L28 (-20.297, -113.3) -> (-28.337, -113.3)
  line L29 (-29.338, -113.3) -> (-29.338, -112.3)
  line L30 (-20.297, -112.3) -> (-20.297, -113.3)
  line L31 (301.275, 5.5) -> (-36.0995, 5.5)
  line L32 (-38.5995, -94.25) -> (-38.6178, -115.2937)
  line L33 (298.2751, -76.2) -> (298.2751, -93.25)
  line L34 (298.275, -95.25) -> (298.275, -95.25)
  line L35 (298.275, -76.2) -> (298.275, -76.2)
  line L36 (-6.3413, 1.5) -> (-6.3413, 0)
  line L37 (-38.5995, 3) -> (-38.5995, -94.25)
  arc A3 (303.775, 3) -> (301.275, 5.5) centre (301.275, 3) ccw
  line L38 (298.2751, -74.2) -> (298.275, -74.2)
  line L39 (-28.337, 3) -> (-28.337, 1.5)
  line L40 (-33.0995, 1.5) -> (-28.3375, 1.5)
  line L41 (-0.02, 0) -> (-0.02, 1)
  arc A4 (-36.0995, 5.5) -> (-38.5995, 3) centre (-36.0995, 3) ccw
  line L42 (-31.338, -117.8) -> (302.0217, -117.8)
  line L43 (-6.3413, 0) -> (-0.02, 0)
  line L44 (298.275, -57.15) -> (298.275, -57.15)
  line L45 (-0.02, 1) -> (8.02, 1)
  line L46 (8.02, 0) -> (171.43, 0)
  line L47 (-28.3375, 3) -> (-28.337, 3)
  line L48 (290.235, 0) -> (290.235, 1)
  line L49 (290.235, 1) -> (298.275, 1)
  line L50 (298.2751, -57.15) -> (298.2751, -74.2)
  line L51 (298.275, 1) -> (298.275, -57.15)
  line L52 (222.602, -112.3) -> (65.376, -112.3)
  line L53 (-33.0995, -112.3) -> (-33.0995, 1.5)
  line L54 (301.275, 5.5) -> (-36.0995, 5.5)
  line L55 (-31.338, -117.8) -> (302.0217, -117.8)
  line L56 (57.336, -112.3) -> (-20.297, -112.3)
  line L57 (8.02, 0) -> (171.43, 0)
  line L58 (290.2351, -112.3) -> (230.642, -112.3)
  line L59 (298.2751, -95.25) -> (298.2751, -113.3)
  line L60 (298.275, -76.2) -> (298.275, -76.2)
  line L61 (298.275, -74.2) -> (298.275, -76.2)
  line L62 (298.2751, -76.2) -> (298.2751, -93.25)
  line L63 (298.2751, -93.25) -> (298.275, -93.25)
  line L64 (298.275, -93.25) -> (298.275, -95.25)
  line L65 (290.2351, -113.3) -> (290.2351, -112.3)
  arc A5 (302.0217, -117.8) -> (304.5217, -115.3) centre (302.0374, -115.3157) ccw
  line L66 (179.47, 0) -> (290.235, 0)
  line L67 (298.2751, -113.3) -> (290.2351, -113.3)
  line L68 (304.5217, -115.3) -> (303.775, 3)
  line L69 (298.275, -95.25) -> (298.275, -95.25)
  line L70 (57.336, -113.3) -> (57.336, -112.3)
  line L71 (65.376, -113.3) -> (57.336, -113.3)
  line L72 (-29.338, -113.3) -> (-29.338, -112.3)
  line L73 (-6.3413, 1.5) -> (-6.3413, 0)
  line L74 (-29.3375, -113.3) -> (-29.338, -113.3)
  line L75 (-29.3375, -112.3) -> (-29.3375, -113.3)
  line L76 (-28.3375, 1.5) -> (-28.3375, 3)
  line L77 (-28.337, 1.5) -> (-6.3413, 1.5)
  line L78 (-28.337, -112.3) -> (-29.3375, -112.3)
  line L79 (-28.337, -113.3) -> (-28.337, -112.3)
  line L80 (-28.3375, 3) -> (-28.337, 3)
  line L81 (-20.297, -113.3) -> (-28.337, -113.3)
  line L82 (65.376, -112.3) -> (65.376, -113.3)
  line L83 (-20.297, -112.3) -> (-20.297, -113.3)
  line L84 (-29.338, -112.3) -> (-33.0995, -112.3)
  line L85 (8.02, 1) -> (8.02, 0)
  line L86 (-28.337, 3) -> (-28.337, 1.5)
  arc A6 (-38.6178, -115.2937) -> (-36.12, -117.7958) centre (-36.1178, -115.2958) ccw
  line L87 (-38.5995, -94.25) -> (-38.6178, -115.2937)
  line L88 (-38.5995, 3) -> (-38.5995, -94.25)
  line L89 (-0.02, 0) -> (-0.02, 1)
  line L90 (-33.0995, 1.5) -> (-28.3375, 1.5)
  line L91 (-6.3413, 0) -> (-0.02, 0)
  arc A7 (-36.0995, 5.5) -> (-38.5995, 3) centre (-36.0995, 3) ccw
  line L92 (-0.02, 1) -> (8.02, 1)
  line L93 (-36.12, -117.7958) -> (-31.338, -117.8)
  line L94 (298.275, -93.25) -> (298.275, -95.25)
  line L95 (298.2751, -113.3) -> (290.2351, -113.3)
  line L96 (290.2351, -113.3) -> (290.2351, -112.3)
  line L97 (298.2751, -93.25) -> (298.275, -93.25)
  line L98 (298.275, -74.2) -> (298.275, -76.2)
  line L99 (298.2751, -74.2) -> (298.275, -74.2)
  line L100 (290.235, 0) -> (290.235, 1)
  line L101 (179.47, 1) -> (179.47, 0)
  line L102 (230.642, -113.3) -> (222.602, -113.3)
  line L103 (179.47, 1) -> (179.47, 0)
  line L104 (171.43, 1) -> (179.47, 1)
  line L105 (222.602, -112.3) -> (65.376, -112.3)
  line L106 (65.376, -112.3) -> (65.376, -113.3)
  line L107 (65.376, -113.3) -> (57.336, -113.3)
  line L108 (171.43, 0) -> (171.43, 1)
  line L109 (171.43, 1) -> (179.47, 1)
  line L110 (125.838, -2.5) -> (125.838, -0.5)
  line L111 (125.838, -0.5) -> (-32.5995, -0.5)
  line L112 (-32.5995, -0.5) -> (-32.5995, -111.8)
  line L113 (-32.5995, -111.8) -> (297.7751, -111.8)
  line L114 (297.775, -111.8) -> (297.7751, -0.5)
  line L115 (297.7751, -0.5) -> (139.338, -0.5)
  line L116 (139.338, -0.5) -> (139.338, -2.5)
  line L117 (139.338, -2.5) -> (295.7751, -2.5)
  line L118 (295.7751, -2.5) -> (295.7751, -109.8)
  line L119 (295.7751, -109.8) -> (-30.5995, -109.8)
  line L120 (-30.5995, -109.8) -> (-30.5995, -2.5)
  line L121 (-30.5995, -2.5) -> (125.838, -2.5)
  line L122 (-27.837, -112.3) -> (-27.837, -112.8)
  line L123 (-27.837, -112.8) -> (-20.797, -112.8)
  line L124 (-20.797, -112.3) -> (-20.797, -112.8)
  line L125 (-20.797, -112.3) -> (-20.797, -111.8)
  line L126 (-27.837, -112.3) -> (-27.837, -111.8)
  dimension "d61" = 5.5
  dimension "d62" = 5.5
  dimension "d63" = 6.2339
  dimension "d64" = 5.5125
  dimension "d65" = 5.5
  dimension "d66" = 6.2276
  dimension "d67" = 5.5188
  dimension "d89" = 0.5
  dimension "d90" = 0.5
equation "d84 = ( 330.375 / 2 ) * 1 mm"
equation "d85 = ( 13.5 / 2 ) * 1 mm"
